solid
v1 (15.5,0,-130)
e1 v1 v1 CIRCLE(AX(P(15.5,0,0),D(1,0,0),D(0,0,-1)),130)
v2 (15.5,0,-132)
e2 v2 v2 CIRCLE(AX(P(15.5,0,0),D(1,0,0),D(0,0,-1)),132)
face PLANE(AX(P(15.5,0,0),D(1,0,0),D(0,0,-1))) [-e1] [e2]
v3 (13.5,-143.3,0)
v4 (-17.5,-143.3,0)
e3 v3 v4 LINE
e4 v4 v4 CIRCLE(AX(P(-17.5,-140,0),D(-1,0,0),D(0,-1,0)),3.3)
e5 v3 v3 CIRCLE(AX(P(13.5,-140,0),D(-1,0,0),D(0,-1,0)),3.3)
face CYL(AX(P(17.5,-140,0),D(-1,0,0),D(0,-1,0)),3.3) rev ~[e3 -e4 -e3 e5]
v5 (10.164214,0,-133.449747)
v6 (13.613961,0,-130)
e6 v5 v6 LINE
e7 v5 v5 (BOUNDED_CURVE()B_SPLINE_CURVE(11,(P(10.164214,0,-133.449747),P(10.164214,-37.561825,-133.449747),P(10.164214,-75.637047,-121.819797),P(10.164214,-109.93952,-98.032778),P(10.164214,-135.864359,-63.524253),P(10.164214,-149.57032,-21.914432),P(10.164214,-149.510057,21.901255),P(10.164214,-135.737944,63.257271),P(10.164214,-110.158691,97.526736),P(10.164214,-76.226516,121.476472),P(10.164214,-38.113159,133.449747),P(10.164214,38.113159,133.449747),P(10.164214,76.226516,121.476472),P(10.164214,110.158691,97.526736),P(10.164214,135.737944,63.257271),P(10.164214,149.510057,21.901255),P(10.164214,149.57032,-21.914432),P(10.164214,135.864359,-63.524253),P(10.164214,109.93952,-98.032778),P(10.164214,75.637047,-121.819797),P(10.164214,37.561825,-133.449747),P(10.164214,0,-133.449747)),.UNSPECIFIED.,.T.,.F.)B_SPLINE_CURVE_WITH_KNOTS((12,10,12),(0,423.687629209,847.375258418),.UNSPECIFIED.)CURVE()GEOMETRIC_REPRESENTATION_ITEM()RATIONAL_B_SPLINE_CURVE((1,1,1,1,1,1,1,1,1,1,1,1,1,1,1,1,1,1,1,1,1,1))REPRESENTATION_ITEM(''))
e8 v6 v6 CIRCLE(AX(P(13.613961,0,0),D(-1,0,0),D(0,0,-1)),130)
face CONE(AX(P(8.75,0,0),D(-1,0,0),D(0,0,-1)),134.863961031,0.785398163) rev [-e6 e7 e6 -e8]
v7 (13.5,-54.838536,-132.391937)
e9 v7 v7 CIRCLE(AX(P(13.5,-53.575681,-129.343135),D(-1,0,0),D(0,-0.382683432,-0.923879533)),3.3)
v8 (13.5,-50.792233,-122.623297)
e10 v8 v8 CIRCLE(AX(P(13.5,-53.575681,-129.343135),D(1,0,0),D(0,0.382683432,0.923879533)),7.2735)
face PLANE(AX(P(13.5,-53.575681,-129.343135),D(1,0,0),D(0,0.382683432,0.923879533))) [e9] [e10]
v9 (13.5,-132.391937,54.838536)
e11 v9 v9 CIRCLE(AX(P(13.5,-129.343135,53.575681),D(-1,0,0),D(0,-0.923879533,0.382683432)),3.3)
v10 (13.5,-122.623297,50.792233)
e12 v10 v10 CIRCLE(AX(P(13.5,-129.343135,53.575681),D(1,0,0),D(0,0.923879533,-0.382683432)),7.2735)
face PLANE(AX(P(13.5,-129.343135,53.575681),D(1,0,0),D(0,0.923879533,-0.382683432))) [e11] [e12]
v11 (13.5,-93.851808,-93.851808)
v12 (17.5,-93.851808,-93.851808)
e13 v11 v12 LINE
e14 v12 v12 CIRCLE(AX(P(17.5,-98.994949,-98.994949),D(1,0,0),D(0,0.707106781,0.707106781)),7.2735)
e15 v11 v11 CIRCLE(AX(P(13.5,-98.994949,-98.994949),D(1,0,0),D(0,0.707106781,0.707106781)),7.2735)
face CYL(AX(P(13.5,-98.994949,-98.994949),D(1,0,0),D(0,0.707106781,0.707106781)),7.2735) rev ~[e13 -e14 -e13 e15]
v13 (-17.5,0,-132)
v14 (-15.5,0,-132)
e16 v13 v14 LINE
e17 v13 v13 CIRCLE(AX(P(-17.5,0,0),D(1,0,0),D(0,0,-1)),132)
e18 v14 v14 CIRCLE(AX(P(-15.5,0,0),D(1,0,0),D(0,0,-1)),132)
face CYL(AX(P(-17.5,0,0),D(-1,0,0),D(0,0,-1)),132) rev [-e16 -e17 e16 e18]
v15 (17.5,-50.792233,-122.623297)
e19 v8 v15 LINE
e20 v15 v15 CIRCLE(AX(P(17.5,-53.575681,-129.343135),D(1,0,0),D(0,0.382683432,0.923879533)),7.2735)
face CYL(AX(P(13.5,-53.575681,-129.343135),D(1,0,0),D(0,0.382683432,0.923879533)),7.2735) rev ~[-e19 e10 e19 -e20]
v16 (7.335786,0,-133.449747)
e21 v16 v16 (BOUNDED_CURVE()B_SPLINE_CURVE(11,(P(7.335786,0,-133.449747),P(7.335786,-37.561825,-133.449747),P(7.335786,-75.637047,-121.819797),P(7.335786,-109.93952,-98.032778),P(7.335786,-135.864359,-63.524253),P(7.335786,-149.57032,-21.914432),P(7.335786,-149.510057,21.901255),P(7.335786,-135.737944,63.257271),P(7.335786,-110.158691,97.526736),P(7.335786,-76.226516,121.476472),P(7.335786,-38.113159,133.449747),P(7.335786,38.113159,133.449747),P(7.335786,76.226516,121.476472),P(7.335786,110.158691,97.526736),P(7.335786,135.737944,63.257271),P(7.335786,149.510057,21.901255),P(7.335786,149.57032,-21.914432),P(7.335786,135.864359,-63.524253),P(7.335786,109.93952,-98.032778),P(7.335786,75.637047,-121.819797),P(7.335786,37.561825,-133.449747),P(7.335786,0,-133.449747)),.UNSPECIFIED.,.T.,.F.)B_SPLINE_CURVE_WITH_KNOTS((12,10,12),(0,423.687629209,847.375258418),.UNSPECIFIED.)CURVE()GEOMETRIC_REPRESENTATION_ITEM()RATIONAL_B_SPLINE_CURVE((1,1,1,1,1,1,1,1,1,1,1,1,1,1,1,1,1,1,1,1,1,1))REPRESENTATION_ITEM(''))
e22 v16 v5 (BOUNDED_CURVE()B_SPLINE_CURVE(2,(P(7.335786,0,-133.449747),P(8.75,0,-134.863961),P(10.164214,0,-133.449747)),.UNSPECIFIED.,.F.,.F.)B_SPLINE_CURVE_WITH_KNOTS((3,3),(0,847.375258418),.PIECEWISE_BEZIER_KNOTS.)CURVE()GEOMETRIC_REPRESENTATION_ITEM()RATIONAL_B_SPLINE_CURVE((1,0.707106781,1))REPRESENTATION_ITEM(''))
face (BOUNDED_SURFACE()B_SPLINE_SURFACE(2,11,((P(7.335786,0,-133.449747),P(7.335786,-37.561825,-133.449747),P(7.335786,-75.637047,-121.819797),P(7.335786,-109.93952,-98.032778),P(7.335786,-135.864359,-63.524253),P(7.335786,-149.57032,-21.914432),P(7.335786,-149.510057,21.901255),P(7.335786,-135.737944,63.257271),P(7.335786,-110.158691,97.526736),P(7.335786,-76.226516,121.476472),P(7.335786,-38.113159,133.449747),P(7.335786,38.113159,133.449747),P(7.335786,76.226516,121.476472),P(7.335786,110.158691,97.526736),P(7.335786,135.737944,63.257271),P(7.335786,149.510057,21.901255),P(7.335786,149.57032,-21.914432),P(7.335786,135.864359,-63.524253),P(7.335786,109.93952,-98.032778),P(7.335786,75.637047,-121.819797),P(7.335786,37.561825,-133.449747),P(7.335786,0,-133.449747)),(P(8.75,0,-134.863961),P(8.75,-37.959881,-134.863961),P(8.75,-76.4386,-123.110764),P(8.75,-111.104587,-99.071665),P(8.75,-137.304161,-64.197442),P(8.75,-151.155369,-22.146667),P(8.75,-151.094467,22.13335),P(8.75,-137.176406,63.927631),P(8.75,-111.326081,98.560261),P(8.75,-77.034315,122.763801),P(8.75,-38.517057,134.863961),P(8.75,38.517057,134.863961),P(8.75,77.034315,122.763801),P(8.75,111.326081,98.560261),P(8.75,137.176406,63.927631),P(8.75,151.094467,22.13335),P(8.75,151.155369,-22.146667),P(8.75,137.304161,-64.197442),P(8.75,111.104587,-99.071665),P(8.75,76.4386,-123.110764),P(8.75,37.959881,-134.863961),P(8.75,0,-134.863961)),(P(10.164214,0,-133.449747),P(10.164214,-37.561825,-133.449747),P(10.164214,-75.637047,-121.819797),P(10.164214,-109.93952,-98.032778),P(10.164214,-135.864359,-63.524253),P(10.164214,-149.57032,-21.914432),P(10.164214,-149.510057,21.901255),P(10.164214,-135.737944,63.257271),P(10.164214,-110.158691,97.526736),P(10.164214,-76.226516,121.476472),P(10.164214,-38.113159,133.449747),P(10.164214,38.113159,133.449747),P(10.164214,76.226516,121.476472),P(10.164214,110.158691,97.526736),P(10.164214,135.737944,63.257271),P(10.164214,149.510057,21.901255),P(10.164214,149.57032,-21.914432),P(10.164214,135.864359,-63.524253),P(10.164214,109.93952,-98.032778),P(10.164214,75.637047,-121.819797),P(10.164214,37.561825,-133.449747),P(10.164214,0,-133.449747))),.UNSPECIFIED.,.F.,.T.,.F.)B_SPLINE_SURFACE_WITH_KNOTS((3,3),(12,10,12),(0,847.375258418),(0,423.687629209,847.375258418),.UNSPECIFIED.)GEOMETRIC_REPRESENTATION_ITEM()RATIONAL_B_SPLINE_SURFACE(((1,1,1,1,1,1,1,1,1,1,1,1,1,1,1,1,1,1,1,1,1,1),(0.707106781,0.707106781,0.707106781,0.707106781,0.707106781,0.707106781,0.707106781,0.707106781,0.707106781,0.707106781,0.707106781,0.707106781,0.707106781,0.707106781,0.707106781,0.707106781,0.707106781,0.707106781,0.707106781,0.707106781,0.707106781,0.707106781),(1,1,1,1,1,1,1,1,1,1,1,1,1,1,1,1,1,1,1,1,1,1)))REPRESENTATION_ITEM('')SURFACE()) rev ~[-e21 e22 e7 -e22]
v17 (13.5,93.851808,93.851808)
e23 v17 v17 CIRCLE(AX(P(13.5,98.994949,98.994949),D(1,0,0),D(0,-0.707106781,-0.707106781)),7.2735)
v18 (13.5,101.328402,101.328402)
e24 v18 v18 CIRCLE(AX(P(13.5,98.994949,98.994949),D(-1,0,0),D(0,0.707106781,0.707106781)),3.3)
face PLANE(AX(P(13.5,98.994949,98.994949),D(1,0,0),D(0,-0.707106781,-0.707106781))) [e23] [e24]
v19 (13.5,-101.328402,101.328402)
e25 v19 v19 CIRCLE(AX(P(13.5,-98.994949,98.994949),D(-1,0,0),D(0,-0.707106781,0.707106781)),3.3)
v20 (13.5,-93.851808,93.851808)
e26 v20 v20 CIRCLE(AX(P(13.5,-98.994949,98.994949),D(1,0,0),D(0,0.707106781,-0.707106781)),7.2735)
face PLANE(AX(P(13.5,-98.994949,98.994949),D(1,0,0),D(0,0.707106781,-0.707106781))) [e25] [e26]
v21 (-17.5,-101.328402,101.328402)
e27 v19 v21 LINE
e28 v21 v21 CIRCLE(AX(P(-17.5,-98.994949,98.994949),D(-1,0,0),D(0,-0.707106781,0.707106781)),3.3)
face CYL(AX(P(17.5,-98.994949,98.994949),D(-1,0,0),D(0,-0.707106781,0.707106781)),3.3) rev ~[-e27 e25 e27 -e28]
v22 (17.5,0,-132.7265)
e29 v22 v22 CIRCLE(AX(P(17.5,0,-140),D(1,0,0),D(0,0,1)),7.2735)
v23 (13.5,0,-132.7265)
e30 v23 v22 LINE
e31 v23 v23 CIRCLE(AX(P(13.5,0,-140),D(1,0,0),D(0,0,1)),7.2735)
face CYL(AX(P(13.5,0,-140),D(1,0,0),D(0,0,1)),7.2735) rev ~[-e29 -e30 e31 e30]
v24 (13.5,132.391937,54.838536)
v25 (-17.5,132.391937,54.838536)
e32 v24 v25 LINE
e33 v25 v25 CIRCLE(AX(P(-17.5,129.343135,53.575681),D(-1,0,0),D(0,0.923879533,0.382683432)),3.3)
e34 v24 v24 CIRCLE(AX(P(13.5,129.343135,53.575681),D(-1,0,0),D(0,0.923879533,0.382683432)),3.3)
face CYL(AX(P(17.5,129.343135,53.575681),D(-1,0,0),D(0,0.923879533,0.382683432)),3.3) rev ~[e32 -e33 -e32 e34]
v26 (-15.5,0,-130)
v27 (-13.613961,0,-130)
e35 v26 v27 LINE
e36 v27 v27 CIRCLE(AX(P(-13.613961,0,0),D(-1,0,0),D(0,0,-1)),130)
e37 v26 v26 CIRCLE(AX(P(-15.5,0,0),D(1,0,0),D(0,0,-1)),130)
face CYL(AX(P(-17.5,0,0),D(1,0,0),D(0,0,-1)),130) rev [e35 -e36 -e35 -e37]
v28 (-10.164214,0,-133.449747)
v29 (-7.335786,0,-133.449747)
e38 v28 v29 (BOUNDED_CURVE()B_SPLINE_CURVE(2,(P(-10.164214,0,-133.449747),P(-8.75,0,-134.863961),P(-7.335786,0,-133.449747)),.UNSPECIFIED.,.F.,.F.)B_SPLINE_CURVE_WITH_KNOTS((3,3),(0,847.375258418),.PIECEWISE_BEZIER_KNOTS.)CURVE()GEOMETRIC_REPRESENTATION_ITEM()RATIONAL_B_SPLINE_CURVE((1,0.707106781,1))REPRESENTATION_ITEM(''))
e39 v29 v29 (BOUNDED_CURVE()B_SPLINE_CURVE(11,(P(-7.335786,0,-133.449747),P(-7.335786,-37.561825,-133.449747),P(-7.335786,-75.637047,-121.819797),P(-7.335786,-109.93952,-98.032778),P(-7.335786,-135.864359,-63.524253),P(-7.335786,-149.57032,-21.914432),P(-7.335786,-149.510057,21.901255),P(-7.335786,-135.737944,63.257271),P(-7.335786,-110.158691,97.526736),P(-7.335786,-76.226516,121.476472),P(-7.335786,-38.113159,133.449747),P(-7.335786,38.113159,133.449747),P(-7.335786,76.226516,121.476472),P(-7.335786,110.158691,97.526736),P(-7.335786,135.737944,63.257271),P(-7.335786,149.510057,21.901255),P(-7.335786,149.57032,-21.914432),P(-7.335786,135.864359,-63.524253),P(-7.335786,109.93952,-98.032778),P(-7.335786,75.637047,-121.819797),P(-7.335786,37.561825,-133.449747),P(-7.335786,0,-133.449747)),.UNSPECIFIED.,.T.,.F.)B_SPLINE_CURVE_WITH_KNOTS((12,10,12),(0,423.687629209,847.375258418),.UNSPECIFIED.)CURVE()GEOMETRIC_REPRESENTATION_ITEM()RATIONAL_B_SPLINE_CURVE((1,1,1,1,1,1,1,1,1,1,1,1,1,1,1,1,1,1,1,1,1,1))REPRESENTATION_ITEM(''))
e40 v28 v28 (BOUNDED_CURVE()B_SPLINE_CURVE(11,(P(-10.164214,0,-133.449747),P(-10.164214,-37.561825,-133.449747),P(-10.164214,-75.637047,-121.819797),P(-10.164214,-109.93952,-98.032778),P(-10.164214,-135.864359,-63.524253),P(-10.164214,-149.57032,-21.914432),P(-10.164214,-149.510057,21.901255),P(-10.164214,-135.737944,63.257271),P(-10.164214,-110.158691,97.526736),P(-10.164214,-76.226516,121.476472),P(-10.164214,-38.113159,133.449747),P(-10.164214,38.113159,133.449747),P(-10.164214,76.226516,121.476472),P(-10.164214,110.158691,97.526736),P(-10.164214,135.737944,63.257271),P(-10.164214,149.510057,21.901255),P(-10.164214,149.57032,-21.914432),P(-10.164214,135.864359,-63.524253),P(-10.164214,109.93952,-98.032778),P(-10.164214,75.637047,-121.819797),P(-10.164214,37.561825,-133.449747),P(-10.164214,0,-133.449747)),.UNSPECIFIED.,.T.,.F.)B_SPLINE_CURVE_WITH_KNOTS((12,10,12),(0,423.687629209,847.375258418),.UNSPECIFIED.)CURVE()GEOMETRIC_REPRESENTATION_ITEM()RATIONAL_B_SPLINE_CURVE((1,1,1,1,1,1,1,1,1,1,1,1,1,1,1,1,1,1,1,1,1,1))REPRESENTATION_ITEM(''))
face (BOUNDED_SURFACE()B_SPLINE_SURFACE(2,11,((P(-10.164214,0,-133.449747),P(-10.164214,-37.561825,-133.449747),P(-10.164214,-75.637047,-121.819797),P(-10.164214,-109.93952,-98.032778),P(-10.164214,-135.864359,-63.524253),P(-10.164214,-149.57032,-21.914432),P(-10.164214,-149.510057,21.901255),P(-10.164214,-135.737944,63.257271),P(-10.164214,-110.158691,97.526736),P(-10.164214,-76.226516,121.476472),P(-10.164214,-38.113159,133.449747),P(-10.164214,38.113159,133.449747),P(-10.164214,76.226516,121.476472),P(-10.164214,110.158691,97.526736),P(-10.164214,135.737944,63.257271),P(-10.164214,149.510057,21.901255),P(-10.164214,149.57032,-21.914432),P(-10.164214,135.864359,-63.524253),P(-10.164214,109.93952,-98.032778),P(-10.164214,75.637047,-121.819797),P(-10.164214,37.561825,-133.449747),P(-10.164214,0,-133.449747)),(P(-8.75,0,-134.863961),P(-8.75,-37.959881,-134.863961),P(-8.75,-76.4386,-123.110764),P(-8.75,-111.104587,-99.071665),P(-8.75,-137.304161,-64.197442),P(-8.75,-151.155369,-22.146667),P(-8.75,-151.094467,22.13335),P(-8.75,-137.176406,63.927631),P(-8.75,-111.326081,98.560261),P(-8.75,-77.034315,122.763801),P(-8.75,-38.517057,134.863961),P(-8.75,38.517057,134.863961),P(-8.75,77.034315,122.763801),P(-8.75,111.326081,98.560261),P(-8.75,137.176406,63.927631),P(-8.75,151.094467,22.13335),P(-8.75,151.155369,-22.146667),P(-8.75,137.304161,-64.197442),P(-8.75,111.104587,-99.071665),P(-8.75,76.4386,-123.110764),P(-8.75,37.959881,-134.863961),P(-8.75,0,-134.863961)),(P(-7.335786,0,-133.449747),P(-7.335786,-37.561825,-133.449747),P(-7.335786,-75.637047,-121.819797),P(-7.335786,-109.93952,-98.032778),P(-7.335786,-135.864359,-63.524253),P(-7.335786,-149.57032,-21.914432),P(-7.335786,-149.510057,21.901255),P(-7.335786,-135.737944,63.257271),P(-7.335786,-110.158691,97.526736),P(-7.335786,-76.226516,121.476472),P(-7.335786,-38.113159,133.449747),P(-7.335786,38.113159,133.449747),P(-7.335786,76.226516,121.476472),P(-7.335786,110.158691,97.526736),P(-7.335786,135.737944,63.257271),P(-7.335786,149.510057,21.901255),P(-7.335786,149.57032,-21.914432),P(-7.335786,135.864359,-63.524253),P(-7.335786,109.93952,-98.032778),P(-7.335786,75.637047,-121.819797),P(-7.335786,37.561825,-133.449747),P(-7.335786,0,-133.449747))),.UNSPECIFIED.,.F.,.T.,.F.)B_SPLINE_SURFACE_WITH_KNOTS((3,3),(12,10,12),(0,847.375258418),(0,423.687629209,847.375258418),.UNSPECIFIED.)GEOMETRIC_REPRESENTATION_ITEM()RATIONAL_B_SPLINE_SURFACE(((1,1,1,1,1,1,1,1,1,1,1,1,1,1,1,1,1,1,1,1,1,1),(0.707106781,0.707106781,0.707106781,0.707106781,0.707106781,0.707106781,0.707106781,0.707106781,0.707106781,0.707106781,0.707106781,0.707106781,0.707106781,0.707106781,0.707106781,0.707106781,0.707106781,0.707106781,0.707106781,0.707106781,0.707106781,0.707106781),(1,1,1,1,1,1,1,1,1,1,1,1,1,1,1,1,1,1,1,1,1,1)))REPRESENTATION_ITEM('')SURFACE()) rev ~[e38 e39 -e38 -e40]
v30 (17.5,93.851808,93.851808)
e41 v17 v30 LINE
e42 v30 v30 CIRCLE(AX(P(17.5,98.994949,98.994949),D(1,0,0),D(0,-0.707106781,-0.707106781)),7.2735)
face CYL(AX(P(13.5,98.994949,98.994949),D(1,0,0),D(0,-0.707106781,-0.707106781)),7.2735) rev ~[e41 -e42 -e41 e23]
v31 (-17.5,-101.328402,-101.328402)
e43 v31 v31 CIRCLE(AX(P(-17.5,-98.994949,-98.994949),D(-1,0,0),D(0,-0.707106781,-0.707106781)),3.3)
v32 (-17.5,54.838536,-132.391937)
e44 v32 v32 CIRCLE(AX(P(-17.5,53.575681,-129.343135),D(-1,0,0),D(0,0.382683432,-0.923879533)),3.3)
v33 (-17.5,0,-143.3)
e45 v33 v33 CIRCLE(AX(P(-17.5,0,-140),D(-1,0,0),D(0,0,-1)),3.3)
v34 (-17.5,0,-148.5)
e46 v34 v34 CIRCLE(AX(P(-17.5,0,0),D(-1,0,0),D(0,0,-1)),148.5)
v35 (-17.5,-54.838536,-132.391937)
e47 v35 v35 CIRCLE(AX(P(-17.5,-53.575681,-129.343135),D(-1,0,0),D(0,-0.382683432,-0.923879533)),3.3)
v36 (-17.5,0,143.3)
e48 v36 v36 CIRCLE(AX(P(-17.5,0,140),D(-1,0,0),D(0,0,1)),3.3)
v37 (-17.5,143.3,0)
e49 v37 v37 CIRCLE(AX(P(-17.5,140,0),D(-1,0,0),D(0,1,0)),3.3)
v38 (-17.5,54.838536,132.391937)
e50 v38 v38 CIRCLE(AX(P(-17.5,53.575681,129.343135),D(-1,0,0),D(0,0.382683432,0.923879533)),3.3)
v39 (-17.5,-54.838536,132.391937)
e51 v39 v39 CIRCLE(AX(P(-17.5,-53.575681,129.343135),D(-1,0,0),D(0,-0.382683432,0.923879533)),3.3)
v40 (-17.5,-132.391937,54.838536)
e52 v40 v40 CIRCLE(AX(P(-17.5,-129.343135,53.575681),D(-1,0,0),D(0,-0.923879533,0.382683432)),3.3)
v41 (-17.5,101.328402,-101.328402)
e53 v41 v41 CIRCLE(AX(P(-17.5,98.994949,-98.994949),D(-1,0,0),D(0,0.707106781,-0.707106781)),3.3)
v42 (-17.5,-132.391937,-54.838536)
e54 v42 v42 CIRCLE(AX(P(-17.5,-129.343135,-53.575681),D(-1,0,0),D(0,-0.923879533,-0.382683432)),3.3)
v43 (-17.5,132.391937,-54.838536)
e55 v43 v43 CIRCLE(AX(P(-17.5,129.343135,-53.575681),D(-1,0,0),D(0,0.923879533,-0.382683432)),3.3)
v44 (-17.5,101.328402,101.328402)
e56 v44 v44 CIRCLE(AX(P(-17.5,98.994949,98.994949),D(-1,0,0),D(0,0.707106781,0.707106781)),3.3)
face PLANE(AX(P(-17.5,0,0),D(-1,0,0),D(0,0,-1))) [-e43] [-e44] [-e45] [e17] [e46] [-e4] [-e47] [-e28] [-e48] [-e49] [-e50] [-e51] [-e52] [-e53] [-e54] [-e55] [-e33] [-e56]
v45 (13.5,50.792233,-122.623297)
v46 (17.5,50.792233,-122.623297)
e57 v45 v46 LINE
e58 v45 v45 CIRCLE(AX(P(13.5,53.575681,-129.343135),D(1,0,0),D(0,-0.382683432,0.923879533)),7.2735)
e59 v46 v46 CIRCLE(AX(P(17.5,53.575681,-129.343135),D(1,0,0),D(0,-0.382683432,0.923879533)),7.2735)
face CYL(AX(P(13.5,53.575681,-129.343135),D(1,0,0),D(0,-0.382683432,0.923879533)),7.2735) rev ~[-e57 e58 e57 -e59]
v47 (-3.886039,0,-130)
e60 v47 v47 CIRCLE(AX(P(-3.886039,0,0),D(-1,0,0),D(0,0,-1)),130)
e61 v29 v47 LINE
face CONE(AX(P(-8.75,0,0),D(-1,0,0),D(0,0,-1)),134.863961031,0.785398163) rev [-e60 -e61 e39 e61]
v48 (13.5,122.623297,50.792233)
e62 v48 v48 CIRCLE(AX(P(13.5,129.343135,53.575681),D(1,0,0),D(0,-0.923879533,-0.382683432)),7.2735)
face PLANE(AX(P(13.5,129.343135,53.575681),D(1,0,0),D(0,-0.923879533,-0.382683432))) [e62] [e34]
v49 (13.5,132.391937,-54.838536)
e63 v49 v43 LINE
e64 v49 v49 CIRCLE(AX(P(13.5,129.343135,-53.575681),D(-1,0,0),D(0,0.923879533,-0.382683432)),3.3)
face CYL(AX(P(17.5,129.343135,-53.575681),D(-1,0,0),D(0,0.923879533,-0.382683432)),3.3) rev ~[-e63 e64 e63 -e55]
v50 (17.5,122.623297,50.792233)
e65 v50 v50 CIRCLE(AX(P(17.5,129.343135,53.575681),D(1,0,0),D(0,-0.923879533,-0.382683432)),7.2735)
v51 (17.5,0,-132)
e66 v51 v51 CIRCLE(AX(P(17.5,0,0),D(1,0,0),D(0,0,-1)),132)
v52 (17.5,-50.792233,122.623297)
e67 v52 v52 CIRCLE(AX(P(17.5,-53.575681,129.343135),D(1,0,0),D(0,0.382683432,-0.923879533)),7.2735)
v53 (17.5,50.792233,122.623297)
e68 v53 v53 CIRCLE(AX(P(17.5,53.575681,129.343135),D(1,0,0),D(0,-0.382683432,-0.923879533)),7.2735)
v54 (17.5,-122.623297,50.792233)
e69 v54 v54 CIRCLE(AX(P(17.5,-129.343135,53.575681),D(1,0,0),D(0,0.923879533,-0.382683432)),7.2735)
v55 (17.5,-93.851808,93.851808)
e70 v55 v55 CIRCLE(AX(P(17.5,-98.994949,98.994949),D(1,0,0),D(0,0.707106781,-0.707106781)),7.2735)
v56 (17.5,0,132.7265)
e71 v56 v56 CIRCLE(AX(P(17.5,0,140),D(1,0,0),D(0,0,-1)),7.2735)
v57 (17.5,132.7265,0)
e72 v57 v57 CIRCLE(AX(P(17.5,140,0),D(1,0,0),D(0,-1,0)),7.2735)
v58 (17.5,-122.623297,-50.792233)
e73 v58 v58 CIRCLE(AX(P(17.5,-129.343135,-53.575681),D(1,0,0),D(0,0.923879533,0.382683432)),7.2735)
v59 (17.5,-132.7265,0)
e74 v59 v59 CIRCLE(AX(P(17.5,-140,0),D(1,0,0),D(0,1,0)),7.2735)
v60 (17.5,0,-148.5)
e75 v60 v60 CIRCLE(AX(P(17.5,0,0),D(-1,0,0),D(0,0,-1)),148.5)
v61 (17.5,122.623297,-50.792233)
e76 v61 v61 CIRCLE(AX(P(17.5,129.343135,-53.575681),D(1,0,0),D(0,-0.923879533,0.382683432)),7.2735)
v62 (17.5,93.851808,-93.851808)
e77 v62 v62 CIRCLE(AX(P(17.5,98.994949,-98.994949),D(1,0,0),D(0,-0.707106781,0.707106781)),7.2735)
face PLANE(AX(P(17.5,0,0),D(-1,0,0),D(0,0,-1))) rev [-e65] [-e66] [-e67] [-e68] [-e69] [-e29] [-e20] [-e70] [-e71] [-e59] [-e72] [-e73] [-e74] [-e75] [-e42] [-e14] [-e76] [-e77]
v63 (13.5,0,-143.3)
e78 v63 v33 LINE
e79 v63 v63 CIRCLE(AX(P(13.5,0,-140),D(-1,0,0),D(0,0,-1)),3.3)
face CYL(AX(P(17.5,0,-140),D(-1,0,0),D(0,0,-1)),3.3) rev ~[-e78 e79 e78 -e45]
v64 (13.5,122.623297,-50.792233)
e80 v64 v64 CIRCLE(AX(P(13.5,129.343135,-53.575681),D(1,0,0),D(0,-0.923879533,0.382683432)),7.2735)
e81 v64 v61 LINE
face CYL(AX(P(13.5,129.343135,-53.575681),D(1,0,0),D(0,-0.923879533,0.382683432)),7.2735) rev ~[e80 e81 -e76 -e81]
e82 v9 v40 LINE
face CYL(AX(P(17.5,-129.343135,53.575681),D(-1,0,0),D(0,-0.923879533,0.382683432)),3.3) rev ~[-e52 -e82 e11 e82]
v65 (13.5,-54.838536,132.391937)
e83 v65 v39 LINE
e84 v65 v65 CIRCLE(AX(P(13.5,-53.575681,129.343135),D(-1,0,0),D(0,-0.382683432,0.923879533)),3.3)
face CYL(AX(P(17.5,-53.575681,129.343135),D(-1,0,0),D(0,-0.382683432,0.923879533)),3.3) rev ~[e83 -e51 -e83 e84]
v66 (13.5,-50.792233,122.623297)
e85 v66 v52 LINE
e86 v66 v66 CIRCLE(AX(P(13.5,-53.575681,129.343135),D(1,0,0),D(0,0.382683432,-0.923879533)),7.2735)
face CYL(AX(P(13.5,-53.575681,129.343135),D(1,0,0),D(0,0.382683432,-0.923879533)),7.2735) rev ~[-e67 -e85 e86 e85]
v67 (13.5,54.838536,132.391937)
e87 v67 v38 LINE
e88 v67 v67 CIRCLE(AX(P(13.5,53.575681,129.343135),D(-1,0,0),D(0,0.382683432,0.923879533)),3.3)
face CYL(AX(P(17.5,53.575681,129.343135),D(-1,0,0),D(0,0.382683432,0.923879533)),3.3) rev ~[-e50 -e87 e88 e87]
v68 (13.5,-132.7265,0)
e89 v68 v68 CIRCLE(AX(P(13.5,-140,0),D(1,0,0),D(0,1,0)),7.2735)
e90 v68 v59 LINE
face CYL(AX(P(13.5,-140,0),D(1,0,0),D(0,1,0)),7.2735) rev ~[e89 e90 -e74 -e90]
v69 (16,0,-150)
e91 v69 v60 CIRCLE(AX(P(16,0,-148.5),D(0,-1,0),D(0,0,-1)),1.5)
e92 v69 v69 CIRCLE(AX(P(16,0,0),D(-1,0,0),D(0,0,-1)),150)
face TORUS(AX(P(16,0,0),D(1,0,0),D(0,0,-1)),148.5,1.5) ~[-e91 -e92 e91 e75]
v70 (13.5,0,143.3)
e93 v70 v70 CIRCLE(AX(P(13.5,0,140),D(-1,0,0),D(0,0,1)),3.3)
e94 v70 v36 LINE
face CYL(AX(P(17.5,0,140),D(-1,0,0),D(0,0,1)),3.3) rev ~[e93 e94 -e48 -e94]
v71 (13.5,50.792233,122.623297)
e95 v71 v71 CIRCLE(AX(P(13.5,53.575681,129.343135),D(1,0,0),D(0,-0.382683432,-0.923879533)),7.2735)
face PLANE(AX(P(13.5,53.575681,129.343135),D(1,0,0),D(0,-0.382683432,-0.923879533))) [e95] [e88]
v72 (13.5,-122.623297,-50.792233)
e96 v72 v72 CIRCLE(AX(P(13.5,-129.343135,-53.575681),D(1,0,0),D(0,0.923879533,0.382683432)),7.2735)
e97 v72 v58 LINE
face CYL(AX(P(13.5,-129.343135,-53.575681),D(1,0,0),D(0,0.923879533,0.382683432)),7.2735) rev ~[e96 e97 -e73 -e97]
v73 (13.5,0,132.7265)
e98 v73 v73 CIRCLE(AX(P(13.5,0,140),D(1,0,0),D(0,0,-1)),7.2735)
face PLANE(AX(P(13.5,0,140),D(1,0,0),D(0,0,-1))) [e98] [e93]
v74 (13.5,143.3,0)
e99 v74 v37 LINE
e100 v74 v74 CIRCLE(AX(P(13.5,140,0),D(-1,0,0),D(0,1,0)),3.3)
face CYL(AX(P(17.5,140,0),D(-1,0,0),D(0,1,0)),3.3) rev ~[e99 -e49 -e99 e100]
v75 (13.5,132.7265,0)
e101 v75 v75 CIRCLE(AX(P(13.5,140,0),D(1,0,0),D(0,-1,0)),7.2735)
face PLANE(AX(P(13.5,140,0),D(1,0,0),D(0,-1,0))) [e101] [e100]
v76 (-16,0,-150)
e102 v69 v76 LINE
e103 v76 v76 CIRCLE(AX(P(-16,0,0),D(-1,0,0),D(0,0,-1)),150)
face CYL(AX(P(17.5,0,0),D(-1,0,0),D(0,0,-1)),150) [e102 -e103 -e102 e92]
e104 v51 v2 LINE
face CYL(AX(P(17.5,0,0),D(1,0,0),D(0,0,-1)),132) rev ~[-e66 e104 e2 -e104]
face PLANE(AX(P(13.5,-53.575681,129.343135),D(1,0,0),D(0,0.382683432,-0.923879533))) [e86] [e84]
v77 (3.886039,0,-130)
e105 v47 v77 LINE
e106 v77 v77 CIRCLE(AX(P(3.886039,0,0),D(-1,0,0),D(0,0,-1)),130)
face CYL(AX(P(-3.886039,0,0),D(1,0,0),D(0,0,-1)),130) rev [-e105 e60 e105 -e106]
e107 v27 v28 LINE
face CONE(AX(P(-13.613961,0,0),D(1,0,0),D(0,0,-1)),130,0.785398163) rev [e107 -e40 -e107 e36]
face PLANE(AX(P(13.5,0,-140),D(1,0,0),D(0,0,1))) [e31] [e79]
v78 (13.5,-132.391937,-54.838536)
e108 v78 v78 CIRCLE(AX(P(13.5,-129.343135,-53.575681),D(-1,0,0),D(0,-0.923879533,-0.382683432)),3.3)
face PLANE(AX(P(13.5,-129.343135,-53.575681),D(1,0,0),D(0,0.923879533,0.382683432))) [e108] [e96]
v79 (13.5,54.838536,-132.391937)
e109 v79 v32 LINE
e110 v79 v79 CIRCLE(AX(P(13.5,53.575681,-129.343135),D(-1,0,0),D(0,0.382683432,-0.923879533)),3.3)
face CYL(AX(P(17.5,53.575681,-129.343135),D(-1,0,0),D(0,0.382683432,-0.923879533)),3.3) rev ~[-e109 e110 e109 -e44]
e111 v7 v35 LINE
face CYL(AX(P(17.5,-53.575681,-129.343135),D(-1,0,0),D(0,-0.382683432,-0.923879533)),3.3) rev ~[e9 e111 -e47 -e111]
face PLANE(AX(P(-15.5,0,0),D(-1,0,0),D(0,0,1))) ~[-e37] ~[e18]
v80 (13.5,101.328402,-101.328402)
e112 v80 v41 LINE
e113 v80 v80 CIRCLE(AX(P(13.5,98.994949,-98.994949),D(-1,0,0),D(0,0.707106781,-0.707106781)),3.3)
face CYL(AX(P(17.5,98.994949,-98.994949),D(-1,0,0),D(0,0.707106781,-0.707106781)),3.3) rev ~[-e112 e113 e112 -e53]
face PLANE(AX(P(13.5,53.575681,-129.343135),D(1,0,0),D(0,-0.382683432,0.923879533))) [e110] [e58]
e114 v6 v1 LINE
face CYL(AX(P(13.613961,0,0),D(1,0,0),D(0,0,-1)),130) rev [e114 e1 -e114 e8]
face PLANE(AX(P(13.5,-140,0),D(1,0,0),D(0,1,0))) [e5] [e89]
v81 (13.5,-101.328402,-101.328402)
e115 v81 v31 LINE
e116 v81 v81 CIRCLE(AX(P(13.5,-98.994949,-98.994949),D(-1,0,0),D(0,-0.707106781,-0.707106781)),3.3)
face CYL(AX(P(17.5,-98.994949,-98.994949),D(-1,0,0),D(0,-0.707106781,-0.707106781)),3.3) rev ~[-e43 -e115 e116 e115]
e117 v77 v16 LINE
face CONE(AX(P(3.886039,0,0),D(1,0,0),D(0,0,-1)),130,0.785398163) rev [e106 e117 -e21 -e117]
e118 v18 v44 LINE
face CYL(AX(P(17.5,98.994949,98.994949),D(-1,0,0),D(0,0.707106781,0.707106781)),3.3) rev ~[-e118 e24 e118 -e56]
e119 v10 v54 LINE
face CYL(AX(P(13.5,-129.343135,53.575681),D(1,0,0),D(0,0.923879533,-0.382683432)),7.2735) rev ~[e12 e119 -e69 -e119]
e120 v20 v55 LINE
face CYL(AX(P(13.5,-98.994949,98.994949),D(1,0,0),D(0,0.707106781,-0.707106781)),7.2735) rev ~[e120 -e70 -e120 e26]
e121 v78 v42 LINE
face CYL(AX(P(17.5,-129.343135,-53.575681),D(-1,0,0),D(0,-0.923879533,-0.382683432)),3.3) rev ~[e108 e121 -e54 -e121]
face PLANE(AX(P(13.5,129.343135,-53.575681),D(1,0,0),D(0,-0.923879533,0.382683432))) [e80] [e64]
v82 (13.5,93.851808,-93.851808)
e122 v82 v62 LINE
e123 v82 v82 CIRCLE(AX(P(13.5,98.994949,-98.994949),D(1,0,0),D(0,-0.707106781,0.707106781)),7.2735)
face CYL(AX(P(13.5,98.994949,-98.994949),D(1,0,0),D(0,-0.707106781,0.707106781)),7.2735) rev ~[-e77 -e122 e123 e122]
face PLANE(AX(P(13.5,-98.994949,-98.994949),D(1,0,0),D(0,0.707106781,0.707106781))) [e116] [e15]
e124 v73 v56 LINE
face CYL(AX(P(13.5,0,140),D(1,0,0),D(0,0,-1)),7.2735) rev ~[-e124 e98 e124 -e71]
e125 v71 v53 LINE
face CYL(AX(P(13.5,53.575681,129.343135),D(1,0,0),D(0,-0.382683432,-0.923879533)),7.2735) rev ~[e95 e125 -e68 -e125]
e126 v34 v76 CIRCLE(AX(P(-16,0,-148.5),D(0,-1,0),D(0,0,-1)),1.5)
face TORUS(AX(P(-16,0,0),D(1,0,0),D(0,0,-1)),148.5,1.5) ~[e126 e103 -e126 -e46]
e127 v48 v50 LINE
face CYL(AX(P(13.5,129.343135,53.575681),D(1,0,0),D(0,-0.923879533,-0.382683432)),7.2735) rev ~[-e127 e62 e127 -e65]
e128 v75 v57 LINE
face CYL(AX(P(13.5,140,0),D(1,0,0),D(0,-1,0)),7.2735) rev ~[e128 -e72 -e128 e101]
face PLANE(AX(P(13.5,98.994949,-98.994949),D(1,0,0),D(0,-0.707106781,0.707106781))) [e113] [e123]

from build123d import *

# Parameters (mm, degrees)
FILLET1_R                               = 2
CBORE_FOR_M6_HEX_HEAD_BOLT1_D           = 6.6
CBORE_FOR_M6_HEX_HEAD_BOLT1_CBORE_D     = 14.547
CBORE_FOR_M6_HEX_HEAD_BOLT1_CBORE_DEPTH = 4
CIRPATTERN1_COUNT                       = 16
FILLET2_R                               = 1.5
SKETCH4_R                               = 132
SKETCH4_R_2                             = 130
CUT_EXTRUDE1_DEPTH                      = 2


with BuildPart() as part:
    # Sketch1 → Revolve1 (revolve)
    with BuildSketch(Plane.XY):
        Polygon((17.5, 150), (-17.5, 150), (-17.5, 130), (-13.613961031, 130), (-8.75, 134.863961031), (-3.886038969, 130), (3.886038969, 130), (8.75, 134.863961031), (13.613961031, 130), (17.5, 130), align=None)
    revolve(axis=Axis((0, 0, 0), (-1, 0, 0)))

    # Fillet1
    fillet1_edges = [part.edges().sort_by_distance(p)[0] for p in [
        (8.75, -134.863961031, 0),
        (-8.75, -134.863961031, 0),
    ]]
    fillet(fillet1_edges, radius=FILLET1_R)

    # CBORE for M6 Hex Head Bolt1 (through all)
    with Locations(Plane(origin=(17.5, 0, -140), x_dir=(0, 0, 1), z_dir=(1, 0, 0))):
        with Locations((0, 0)):
            cbore_for_m6_hex_head_bolt1 = CounterBoreHole(CBORE_FOR_M6_HEX_HEAD_BOLT1_D / 2, CBORE_FOR_M6_HEX_HEAD_BOLT1_CBORE_D / 2, CBORE_FOR_M6_HEX_HEAD_BOLT1_CBORE_DEPTH)

    # CirPattern1: CBORE for M6 Hex Head Bolt1 ×16 about axis
    cirpattern1_axis = Axis((-17.5, 0, 0), (1, 0, 0))
    for i in range(1, CIRPATTERN1_COUNT):
        add(cbore_for_m6_hex_head_bolt1.rotate(cirpattern1_axis, i * 360 / CIRPATTERN1_COUNT), mode=Mode.SUBTRACT)

    # Fillet2
    fillet2_edges = [part.edges().sort_by_distance(p)[0] for p in [
        (-17.5, -150, 0),
        (17.5, -150, 0),
    ]]
    fillet(fillet2_edges, radius=FILLET2_R)

    # Sketch4 → Cut-Extrude1 (cut)
    with BuildSketch(Plane(origin=(17.5, 0, 0), x_dir=(0, 0, -1), z_dir=(1, 0, 0))):
        Circle(SKETCH4_R)
        Circle(SKETCH4_R_2, mode=Mode.SUBTRACT)
    cut_extrude1 = extrude(amount=-CUT_EXTRUDE1_DEPTH, mode=Mode.SUBTRACT)

    # Mirror1: Cut-Extrude1 across plane
    add(cut_extrude1.mirror(Plane(origin=(0, 0, 0), x_dir=(0, 0, 1), z_dir=(1, 0, 0))), mode=Mode.SUBTRACT)


solid = part.part
